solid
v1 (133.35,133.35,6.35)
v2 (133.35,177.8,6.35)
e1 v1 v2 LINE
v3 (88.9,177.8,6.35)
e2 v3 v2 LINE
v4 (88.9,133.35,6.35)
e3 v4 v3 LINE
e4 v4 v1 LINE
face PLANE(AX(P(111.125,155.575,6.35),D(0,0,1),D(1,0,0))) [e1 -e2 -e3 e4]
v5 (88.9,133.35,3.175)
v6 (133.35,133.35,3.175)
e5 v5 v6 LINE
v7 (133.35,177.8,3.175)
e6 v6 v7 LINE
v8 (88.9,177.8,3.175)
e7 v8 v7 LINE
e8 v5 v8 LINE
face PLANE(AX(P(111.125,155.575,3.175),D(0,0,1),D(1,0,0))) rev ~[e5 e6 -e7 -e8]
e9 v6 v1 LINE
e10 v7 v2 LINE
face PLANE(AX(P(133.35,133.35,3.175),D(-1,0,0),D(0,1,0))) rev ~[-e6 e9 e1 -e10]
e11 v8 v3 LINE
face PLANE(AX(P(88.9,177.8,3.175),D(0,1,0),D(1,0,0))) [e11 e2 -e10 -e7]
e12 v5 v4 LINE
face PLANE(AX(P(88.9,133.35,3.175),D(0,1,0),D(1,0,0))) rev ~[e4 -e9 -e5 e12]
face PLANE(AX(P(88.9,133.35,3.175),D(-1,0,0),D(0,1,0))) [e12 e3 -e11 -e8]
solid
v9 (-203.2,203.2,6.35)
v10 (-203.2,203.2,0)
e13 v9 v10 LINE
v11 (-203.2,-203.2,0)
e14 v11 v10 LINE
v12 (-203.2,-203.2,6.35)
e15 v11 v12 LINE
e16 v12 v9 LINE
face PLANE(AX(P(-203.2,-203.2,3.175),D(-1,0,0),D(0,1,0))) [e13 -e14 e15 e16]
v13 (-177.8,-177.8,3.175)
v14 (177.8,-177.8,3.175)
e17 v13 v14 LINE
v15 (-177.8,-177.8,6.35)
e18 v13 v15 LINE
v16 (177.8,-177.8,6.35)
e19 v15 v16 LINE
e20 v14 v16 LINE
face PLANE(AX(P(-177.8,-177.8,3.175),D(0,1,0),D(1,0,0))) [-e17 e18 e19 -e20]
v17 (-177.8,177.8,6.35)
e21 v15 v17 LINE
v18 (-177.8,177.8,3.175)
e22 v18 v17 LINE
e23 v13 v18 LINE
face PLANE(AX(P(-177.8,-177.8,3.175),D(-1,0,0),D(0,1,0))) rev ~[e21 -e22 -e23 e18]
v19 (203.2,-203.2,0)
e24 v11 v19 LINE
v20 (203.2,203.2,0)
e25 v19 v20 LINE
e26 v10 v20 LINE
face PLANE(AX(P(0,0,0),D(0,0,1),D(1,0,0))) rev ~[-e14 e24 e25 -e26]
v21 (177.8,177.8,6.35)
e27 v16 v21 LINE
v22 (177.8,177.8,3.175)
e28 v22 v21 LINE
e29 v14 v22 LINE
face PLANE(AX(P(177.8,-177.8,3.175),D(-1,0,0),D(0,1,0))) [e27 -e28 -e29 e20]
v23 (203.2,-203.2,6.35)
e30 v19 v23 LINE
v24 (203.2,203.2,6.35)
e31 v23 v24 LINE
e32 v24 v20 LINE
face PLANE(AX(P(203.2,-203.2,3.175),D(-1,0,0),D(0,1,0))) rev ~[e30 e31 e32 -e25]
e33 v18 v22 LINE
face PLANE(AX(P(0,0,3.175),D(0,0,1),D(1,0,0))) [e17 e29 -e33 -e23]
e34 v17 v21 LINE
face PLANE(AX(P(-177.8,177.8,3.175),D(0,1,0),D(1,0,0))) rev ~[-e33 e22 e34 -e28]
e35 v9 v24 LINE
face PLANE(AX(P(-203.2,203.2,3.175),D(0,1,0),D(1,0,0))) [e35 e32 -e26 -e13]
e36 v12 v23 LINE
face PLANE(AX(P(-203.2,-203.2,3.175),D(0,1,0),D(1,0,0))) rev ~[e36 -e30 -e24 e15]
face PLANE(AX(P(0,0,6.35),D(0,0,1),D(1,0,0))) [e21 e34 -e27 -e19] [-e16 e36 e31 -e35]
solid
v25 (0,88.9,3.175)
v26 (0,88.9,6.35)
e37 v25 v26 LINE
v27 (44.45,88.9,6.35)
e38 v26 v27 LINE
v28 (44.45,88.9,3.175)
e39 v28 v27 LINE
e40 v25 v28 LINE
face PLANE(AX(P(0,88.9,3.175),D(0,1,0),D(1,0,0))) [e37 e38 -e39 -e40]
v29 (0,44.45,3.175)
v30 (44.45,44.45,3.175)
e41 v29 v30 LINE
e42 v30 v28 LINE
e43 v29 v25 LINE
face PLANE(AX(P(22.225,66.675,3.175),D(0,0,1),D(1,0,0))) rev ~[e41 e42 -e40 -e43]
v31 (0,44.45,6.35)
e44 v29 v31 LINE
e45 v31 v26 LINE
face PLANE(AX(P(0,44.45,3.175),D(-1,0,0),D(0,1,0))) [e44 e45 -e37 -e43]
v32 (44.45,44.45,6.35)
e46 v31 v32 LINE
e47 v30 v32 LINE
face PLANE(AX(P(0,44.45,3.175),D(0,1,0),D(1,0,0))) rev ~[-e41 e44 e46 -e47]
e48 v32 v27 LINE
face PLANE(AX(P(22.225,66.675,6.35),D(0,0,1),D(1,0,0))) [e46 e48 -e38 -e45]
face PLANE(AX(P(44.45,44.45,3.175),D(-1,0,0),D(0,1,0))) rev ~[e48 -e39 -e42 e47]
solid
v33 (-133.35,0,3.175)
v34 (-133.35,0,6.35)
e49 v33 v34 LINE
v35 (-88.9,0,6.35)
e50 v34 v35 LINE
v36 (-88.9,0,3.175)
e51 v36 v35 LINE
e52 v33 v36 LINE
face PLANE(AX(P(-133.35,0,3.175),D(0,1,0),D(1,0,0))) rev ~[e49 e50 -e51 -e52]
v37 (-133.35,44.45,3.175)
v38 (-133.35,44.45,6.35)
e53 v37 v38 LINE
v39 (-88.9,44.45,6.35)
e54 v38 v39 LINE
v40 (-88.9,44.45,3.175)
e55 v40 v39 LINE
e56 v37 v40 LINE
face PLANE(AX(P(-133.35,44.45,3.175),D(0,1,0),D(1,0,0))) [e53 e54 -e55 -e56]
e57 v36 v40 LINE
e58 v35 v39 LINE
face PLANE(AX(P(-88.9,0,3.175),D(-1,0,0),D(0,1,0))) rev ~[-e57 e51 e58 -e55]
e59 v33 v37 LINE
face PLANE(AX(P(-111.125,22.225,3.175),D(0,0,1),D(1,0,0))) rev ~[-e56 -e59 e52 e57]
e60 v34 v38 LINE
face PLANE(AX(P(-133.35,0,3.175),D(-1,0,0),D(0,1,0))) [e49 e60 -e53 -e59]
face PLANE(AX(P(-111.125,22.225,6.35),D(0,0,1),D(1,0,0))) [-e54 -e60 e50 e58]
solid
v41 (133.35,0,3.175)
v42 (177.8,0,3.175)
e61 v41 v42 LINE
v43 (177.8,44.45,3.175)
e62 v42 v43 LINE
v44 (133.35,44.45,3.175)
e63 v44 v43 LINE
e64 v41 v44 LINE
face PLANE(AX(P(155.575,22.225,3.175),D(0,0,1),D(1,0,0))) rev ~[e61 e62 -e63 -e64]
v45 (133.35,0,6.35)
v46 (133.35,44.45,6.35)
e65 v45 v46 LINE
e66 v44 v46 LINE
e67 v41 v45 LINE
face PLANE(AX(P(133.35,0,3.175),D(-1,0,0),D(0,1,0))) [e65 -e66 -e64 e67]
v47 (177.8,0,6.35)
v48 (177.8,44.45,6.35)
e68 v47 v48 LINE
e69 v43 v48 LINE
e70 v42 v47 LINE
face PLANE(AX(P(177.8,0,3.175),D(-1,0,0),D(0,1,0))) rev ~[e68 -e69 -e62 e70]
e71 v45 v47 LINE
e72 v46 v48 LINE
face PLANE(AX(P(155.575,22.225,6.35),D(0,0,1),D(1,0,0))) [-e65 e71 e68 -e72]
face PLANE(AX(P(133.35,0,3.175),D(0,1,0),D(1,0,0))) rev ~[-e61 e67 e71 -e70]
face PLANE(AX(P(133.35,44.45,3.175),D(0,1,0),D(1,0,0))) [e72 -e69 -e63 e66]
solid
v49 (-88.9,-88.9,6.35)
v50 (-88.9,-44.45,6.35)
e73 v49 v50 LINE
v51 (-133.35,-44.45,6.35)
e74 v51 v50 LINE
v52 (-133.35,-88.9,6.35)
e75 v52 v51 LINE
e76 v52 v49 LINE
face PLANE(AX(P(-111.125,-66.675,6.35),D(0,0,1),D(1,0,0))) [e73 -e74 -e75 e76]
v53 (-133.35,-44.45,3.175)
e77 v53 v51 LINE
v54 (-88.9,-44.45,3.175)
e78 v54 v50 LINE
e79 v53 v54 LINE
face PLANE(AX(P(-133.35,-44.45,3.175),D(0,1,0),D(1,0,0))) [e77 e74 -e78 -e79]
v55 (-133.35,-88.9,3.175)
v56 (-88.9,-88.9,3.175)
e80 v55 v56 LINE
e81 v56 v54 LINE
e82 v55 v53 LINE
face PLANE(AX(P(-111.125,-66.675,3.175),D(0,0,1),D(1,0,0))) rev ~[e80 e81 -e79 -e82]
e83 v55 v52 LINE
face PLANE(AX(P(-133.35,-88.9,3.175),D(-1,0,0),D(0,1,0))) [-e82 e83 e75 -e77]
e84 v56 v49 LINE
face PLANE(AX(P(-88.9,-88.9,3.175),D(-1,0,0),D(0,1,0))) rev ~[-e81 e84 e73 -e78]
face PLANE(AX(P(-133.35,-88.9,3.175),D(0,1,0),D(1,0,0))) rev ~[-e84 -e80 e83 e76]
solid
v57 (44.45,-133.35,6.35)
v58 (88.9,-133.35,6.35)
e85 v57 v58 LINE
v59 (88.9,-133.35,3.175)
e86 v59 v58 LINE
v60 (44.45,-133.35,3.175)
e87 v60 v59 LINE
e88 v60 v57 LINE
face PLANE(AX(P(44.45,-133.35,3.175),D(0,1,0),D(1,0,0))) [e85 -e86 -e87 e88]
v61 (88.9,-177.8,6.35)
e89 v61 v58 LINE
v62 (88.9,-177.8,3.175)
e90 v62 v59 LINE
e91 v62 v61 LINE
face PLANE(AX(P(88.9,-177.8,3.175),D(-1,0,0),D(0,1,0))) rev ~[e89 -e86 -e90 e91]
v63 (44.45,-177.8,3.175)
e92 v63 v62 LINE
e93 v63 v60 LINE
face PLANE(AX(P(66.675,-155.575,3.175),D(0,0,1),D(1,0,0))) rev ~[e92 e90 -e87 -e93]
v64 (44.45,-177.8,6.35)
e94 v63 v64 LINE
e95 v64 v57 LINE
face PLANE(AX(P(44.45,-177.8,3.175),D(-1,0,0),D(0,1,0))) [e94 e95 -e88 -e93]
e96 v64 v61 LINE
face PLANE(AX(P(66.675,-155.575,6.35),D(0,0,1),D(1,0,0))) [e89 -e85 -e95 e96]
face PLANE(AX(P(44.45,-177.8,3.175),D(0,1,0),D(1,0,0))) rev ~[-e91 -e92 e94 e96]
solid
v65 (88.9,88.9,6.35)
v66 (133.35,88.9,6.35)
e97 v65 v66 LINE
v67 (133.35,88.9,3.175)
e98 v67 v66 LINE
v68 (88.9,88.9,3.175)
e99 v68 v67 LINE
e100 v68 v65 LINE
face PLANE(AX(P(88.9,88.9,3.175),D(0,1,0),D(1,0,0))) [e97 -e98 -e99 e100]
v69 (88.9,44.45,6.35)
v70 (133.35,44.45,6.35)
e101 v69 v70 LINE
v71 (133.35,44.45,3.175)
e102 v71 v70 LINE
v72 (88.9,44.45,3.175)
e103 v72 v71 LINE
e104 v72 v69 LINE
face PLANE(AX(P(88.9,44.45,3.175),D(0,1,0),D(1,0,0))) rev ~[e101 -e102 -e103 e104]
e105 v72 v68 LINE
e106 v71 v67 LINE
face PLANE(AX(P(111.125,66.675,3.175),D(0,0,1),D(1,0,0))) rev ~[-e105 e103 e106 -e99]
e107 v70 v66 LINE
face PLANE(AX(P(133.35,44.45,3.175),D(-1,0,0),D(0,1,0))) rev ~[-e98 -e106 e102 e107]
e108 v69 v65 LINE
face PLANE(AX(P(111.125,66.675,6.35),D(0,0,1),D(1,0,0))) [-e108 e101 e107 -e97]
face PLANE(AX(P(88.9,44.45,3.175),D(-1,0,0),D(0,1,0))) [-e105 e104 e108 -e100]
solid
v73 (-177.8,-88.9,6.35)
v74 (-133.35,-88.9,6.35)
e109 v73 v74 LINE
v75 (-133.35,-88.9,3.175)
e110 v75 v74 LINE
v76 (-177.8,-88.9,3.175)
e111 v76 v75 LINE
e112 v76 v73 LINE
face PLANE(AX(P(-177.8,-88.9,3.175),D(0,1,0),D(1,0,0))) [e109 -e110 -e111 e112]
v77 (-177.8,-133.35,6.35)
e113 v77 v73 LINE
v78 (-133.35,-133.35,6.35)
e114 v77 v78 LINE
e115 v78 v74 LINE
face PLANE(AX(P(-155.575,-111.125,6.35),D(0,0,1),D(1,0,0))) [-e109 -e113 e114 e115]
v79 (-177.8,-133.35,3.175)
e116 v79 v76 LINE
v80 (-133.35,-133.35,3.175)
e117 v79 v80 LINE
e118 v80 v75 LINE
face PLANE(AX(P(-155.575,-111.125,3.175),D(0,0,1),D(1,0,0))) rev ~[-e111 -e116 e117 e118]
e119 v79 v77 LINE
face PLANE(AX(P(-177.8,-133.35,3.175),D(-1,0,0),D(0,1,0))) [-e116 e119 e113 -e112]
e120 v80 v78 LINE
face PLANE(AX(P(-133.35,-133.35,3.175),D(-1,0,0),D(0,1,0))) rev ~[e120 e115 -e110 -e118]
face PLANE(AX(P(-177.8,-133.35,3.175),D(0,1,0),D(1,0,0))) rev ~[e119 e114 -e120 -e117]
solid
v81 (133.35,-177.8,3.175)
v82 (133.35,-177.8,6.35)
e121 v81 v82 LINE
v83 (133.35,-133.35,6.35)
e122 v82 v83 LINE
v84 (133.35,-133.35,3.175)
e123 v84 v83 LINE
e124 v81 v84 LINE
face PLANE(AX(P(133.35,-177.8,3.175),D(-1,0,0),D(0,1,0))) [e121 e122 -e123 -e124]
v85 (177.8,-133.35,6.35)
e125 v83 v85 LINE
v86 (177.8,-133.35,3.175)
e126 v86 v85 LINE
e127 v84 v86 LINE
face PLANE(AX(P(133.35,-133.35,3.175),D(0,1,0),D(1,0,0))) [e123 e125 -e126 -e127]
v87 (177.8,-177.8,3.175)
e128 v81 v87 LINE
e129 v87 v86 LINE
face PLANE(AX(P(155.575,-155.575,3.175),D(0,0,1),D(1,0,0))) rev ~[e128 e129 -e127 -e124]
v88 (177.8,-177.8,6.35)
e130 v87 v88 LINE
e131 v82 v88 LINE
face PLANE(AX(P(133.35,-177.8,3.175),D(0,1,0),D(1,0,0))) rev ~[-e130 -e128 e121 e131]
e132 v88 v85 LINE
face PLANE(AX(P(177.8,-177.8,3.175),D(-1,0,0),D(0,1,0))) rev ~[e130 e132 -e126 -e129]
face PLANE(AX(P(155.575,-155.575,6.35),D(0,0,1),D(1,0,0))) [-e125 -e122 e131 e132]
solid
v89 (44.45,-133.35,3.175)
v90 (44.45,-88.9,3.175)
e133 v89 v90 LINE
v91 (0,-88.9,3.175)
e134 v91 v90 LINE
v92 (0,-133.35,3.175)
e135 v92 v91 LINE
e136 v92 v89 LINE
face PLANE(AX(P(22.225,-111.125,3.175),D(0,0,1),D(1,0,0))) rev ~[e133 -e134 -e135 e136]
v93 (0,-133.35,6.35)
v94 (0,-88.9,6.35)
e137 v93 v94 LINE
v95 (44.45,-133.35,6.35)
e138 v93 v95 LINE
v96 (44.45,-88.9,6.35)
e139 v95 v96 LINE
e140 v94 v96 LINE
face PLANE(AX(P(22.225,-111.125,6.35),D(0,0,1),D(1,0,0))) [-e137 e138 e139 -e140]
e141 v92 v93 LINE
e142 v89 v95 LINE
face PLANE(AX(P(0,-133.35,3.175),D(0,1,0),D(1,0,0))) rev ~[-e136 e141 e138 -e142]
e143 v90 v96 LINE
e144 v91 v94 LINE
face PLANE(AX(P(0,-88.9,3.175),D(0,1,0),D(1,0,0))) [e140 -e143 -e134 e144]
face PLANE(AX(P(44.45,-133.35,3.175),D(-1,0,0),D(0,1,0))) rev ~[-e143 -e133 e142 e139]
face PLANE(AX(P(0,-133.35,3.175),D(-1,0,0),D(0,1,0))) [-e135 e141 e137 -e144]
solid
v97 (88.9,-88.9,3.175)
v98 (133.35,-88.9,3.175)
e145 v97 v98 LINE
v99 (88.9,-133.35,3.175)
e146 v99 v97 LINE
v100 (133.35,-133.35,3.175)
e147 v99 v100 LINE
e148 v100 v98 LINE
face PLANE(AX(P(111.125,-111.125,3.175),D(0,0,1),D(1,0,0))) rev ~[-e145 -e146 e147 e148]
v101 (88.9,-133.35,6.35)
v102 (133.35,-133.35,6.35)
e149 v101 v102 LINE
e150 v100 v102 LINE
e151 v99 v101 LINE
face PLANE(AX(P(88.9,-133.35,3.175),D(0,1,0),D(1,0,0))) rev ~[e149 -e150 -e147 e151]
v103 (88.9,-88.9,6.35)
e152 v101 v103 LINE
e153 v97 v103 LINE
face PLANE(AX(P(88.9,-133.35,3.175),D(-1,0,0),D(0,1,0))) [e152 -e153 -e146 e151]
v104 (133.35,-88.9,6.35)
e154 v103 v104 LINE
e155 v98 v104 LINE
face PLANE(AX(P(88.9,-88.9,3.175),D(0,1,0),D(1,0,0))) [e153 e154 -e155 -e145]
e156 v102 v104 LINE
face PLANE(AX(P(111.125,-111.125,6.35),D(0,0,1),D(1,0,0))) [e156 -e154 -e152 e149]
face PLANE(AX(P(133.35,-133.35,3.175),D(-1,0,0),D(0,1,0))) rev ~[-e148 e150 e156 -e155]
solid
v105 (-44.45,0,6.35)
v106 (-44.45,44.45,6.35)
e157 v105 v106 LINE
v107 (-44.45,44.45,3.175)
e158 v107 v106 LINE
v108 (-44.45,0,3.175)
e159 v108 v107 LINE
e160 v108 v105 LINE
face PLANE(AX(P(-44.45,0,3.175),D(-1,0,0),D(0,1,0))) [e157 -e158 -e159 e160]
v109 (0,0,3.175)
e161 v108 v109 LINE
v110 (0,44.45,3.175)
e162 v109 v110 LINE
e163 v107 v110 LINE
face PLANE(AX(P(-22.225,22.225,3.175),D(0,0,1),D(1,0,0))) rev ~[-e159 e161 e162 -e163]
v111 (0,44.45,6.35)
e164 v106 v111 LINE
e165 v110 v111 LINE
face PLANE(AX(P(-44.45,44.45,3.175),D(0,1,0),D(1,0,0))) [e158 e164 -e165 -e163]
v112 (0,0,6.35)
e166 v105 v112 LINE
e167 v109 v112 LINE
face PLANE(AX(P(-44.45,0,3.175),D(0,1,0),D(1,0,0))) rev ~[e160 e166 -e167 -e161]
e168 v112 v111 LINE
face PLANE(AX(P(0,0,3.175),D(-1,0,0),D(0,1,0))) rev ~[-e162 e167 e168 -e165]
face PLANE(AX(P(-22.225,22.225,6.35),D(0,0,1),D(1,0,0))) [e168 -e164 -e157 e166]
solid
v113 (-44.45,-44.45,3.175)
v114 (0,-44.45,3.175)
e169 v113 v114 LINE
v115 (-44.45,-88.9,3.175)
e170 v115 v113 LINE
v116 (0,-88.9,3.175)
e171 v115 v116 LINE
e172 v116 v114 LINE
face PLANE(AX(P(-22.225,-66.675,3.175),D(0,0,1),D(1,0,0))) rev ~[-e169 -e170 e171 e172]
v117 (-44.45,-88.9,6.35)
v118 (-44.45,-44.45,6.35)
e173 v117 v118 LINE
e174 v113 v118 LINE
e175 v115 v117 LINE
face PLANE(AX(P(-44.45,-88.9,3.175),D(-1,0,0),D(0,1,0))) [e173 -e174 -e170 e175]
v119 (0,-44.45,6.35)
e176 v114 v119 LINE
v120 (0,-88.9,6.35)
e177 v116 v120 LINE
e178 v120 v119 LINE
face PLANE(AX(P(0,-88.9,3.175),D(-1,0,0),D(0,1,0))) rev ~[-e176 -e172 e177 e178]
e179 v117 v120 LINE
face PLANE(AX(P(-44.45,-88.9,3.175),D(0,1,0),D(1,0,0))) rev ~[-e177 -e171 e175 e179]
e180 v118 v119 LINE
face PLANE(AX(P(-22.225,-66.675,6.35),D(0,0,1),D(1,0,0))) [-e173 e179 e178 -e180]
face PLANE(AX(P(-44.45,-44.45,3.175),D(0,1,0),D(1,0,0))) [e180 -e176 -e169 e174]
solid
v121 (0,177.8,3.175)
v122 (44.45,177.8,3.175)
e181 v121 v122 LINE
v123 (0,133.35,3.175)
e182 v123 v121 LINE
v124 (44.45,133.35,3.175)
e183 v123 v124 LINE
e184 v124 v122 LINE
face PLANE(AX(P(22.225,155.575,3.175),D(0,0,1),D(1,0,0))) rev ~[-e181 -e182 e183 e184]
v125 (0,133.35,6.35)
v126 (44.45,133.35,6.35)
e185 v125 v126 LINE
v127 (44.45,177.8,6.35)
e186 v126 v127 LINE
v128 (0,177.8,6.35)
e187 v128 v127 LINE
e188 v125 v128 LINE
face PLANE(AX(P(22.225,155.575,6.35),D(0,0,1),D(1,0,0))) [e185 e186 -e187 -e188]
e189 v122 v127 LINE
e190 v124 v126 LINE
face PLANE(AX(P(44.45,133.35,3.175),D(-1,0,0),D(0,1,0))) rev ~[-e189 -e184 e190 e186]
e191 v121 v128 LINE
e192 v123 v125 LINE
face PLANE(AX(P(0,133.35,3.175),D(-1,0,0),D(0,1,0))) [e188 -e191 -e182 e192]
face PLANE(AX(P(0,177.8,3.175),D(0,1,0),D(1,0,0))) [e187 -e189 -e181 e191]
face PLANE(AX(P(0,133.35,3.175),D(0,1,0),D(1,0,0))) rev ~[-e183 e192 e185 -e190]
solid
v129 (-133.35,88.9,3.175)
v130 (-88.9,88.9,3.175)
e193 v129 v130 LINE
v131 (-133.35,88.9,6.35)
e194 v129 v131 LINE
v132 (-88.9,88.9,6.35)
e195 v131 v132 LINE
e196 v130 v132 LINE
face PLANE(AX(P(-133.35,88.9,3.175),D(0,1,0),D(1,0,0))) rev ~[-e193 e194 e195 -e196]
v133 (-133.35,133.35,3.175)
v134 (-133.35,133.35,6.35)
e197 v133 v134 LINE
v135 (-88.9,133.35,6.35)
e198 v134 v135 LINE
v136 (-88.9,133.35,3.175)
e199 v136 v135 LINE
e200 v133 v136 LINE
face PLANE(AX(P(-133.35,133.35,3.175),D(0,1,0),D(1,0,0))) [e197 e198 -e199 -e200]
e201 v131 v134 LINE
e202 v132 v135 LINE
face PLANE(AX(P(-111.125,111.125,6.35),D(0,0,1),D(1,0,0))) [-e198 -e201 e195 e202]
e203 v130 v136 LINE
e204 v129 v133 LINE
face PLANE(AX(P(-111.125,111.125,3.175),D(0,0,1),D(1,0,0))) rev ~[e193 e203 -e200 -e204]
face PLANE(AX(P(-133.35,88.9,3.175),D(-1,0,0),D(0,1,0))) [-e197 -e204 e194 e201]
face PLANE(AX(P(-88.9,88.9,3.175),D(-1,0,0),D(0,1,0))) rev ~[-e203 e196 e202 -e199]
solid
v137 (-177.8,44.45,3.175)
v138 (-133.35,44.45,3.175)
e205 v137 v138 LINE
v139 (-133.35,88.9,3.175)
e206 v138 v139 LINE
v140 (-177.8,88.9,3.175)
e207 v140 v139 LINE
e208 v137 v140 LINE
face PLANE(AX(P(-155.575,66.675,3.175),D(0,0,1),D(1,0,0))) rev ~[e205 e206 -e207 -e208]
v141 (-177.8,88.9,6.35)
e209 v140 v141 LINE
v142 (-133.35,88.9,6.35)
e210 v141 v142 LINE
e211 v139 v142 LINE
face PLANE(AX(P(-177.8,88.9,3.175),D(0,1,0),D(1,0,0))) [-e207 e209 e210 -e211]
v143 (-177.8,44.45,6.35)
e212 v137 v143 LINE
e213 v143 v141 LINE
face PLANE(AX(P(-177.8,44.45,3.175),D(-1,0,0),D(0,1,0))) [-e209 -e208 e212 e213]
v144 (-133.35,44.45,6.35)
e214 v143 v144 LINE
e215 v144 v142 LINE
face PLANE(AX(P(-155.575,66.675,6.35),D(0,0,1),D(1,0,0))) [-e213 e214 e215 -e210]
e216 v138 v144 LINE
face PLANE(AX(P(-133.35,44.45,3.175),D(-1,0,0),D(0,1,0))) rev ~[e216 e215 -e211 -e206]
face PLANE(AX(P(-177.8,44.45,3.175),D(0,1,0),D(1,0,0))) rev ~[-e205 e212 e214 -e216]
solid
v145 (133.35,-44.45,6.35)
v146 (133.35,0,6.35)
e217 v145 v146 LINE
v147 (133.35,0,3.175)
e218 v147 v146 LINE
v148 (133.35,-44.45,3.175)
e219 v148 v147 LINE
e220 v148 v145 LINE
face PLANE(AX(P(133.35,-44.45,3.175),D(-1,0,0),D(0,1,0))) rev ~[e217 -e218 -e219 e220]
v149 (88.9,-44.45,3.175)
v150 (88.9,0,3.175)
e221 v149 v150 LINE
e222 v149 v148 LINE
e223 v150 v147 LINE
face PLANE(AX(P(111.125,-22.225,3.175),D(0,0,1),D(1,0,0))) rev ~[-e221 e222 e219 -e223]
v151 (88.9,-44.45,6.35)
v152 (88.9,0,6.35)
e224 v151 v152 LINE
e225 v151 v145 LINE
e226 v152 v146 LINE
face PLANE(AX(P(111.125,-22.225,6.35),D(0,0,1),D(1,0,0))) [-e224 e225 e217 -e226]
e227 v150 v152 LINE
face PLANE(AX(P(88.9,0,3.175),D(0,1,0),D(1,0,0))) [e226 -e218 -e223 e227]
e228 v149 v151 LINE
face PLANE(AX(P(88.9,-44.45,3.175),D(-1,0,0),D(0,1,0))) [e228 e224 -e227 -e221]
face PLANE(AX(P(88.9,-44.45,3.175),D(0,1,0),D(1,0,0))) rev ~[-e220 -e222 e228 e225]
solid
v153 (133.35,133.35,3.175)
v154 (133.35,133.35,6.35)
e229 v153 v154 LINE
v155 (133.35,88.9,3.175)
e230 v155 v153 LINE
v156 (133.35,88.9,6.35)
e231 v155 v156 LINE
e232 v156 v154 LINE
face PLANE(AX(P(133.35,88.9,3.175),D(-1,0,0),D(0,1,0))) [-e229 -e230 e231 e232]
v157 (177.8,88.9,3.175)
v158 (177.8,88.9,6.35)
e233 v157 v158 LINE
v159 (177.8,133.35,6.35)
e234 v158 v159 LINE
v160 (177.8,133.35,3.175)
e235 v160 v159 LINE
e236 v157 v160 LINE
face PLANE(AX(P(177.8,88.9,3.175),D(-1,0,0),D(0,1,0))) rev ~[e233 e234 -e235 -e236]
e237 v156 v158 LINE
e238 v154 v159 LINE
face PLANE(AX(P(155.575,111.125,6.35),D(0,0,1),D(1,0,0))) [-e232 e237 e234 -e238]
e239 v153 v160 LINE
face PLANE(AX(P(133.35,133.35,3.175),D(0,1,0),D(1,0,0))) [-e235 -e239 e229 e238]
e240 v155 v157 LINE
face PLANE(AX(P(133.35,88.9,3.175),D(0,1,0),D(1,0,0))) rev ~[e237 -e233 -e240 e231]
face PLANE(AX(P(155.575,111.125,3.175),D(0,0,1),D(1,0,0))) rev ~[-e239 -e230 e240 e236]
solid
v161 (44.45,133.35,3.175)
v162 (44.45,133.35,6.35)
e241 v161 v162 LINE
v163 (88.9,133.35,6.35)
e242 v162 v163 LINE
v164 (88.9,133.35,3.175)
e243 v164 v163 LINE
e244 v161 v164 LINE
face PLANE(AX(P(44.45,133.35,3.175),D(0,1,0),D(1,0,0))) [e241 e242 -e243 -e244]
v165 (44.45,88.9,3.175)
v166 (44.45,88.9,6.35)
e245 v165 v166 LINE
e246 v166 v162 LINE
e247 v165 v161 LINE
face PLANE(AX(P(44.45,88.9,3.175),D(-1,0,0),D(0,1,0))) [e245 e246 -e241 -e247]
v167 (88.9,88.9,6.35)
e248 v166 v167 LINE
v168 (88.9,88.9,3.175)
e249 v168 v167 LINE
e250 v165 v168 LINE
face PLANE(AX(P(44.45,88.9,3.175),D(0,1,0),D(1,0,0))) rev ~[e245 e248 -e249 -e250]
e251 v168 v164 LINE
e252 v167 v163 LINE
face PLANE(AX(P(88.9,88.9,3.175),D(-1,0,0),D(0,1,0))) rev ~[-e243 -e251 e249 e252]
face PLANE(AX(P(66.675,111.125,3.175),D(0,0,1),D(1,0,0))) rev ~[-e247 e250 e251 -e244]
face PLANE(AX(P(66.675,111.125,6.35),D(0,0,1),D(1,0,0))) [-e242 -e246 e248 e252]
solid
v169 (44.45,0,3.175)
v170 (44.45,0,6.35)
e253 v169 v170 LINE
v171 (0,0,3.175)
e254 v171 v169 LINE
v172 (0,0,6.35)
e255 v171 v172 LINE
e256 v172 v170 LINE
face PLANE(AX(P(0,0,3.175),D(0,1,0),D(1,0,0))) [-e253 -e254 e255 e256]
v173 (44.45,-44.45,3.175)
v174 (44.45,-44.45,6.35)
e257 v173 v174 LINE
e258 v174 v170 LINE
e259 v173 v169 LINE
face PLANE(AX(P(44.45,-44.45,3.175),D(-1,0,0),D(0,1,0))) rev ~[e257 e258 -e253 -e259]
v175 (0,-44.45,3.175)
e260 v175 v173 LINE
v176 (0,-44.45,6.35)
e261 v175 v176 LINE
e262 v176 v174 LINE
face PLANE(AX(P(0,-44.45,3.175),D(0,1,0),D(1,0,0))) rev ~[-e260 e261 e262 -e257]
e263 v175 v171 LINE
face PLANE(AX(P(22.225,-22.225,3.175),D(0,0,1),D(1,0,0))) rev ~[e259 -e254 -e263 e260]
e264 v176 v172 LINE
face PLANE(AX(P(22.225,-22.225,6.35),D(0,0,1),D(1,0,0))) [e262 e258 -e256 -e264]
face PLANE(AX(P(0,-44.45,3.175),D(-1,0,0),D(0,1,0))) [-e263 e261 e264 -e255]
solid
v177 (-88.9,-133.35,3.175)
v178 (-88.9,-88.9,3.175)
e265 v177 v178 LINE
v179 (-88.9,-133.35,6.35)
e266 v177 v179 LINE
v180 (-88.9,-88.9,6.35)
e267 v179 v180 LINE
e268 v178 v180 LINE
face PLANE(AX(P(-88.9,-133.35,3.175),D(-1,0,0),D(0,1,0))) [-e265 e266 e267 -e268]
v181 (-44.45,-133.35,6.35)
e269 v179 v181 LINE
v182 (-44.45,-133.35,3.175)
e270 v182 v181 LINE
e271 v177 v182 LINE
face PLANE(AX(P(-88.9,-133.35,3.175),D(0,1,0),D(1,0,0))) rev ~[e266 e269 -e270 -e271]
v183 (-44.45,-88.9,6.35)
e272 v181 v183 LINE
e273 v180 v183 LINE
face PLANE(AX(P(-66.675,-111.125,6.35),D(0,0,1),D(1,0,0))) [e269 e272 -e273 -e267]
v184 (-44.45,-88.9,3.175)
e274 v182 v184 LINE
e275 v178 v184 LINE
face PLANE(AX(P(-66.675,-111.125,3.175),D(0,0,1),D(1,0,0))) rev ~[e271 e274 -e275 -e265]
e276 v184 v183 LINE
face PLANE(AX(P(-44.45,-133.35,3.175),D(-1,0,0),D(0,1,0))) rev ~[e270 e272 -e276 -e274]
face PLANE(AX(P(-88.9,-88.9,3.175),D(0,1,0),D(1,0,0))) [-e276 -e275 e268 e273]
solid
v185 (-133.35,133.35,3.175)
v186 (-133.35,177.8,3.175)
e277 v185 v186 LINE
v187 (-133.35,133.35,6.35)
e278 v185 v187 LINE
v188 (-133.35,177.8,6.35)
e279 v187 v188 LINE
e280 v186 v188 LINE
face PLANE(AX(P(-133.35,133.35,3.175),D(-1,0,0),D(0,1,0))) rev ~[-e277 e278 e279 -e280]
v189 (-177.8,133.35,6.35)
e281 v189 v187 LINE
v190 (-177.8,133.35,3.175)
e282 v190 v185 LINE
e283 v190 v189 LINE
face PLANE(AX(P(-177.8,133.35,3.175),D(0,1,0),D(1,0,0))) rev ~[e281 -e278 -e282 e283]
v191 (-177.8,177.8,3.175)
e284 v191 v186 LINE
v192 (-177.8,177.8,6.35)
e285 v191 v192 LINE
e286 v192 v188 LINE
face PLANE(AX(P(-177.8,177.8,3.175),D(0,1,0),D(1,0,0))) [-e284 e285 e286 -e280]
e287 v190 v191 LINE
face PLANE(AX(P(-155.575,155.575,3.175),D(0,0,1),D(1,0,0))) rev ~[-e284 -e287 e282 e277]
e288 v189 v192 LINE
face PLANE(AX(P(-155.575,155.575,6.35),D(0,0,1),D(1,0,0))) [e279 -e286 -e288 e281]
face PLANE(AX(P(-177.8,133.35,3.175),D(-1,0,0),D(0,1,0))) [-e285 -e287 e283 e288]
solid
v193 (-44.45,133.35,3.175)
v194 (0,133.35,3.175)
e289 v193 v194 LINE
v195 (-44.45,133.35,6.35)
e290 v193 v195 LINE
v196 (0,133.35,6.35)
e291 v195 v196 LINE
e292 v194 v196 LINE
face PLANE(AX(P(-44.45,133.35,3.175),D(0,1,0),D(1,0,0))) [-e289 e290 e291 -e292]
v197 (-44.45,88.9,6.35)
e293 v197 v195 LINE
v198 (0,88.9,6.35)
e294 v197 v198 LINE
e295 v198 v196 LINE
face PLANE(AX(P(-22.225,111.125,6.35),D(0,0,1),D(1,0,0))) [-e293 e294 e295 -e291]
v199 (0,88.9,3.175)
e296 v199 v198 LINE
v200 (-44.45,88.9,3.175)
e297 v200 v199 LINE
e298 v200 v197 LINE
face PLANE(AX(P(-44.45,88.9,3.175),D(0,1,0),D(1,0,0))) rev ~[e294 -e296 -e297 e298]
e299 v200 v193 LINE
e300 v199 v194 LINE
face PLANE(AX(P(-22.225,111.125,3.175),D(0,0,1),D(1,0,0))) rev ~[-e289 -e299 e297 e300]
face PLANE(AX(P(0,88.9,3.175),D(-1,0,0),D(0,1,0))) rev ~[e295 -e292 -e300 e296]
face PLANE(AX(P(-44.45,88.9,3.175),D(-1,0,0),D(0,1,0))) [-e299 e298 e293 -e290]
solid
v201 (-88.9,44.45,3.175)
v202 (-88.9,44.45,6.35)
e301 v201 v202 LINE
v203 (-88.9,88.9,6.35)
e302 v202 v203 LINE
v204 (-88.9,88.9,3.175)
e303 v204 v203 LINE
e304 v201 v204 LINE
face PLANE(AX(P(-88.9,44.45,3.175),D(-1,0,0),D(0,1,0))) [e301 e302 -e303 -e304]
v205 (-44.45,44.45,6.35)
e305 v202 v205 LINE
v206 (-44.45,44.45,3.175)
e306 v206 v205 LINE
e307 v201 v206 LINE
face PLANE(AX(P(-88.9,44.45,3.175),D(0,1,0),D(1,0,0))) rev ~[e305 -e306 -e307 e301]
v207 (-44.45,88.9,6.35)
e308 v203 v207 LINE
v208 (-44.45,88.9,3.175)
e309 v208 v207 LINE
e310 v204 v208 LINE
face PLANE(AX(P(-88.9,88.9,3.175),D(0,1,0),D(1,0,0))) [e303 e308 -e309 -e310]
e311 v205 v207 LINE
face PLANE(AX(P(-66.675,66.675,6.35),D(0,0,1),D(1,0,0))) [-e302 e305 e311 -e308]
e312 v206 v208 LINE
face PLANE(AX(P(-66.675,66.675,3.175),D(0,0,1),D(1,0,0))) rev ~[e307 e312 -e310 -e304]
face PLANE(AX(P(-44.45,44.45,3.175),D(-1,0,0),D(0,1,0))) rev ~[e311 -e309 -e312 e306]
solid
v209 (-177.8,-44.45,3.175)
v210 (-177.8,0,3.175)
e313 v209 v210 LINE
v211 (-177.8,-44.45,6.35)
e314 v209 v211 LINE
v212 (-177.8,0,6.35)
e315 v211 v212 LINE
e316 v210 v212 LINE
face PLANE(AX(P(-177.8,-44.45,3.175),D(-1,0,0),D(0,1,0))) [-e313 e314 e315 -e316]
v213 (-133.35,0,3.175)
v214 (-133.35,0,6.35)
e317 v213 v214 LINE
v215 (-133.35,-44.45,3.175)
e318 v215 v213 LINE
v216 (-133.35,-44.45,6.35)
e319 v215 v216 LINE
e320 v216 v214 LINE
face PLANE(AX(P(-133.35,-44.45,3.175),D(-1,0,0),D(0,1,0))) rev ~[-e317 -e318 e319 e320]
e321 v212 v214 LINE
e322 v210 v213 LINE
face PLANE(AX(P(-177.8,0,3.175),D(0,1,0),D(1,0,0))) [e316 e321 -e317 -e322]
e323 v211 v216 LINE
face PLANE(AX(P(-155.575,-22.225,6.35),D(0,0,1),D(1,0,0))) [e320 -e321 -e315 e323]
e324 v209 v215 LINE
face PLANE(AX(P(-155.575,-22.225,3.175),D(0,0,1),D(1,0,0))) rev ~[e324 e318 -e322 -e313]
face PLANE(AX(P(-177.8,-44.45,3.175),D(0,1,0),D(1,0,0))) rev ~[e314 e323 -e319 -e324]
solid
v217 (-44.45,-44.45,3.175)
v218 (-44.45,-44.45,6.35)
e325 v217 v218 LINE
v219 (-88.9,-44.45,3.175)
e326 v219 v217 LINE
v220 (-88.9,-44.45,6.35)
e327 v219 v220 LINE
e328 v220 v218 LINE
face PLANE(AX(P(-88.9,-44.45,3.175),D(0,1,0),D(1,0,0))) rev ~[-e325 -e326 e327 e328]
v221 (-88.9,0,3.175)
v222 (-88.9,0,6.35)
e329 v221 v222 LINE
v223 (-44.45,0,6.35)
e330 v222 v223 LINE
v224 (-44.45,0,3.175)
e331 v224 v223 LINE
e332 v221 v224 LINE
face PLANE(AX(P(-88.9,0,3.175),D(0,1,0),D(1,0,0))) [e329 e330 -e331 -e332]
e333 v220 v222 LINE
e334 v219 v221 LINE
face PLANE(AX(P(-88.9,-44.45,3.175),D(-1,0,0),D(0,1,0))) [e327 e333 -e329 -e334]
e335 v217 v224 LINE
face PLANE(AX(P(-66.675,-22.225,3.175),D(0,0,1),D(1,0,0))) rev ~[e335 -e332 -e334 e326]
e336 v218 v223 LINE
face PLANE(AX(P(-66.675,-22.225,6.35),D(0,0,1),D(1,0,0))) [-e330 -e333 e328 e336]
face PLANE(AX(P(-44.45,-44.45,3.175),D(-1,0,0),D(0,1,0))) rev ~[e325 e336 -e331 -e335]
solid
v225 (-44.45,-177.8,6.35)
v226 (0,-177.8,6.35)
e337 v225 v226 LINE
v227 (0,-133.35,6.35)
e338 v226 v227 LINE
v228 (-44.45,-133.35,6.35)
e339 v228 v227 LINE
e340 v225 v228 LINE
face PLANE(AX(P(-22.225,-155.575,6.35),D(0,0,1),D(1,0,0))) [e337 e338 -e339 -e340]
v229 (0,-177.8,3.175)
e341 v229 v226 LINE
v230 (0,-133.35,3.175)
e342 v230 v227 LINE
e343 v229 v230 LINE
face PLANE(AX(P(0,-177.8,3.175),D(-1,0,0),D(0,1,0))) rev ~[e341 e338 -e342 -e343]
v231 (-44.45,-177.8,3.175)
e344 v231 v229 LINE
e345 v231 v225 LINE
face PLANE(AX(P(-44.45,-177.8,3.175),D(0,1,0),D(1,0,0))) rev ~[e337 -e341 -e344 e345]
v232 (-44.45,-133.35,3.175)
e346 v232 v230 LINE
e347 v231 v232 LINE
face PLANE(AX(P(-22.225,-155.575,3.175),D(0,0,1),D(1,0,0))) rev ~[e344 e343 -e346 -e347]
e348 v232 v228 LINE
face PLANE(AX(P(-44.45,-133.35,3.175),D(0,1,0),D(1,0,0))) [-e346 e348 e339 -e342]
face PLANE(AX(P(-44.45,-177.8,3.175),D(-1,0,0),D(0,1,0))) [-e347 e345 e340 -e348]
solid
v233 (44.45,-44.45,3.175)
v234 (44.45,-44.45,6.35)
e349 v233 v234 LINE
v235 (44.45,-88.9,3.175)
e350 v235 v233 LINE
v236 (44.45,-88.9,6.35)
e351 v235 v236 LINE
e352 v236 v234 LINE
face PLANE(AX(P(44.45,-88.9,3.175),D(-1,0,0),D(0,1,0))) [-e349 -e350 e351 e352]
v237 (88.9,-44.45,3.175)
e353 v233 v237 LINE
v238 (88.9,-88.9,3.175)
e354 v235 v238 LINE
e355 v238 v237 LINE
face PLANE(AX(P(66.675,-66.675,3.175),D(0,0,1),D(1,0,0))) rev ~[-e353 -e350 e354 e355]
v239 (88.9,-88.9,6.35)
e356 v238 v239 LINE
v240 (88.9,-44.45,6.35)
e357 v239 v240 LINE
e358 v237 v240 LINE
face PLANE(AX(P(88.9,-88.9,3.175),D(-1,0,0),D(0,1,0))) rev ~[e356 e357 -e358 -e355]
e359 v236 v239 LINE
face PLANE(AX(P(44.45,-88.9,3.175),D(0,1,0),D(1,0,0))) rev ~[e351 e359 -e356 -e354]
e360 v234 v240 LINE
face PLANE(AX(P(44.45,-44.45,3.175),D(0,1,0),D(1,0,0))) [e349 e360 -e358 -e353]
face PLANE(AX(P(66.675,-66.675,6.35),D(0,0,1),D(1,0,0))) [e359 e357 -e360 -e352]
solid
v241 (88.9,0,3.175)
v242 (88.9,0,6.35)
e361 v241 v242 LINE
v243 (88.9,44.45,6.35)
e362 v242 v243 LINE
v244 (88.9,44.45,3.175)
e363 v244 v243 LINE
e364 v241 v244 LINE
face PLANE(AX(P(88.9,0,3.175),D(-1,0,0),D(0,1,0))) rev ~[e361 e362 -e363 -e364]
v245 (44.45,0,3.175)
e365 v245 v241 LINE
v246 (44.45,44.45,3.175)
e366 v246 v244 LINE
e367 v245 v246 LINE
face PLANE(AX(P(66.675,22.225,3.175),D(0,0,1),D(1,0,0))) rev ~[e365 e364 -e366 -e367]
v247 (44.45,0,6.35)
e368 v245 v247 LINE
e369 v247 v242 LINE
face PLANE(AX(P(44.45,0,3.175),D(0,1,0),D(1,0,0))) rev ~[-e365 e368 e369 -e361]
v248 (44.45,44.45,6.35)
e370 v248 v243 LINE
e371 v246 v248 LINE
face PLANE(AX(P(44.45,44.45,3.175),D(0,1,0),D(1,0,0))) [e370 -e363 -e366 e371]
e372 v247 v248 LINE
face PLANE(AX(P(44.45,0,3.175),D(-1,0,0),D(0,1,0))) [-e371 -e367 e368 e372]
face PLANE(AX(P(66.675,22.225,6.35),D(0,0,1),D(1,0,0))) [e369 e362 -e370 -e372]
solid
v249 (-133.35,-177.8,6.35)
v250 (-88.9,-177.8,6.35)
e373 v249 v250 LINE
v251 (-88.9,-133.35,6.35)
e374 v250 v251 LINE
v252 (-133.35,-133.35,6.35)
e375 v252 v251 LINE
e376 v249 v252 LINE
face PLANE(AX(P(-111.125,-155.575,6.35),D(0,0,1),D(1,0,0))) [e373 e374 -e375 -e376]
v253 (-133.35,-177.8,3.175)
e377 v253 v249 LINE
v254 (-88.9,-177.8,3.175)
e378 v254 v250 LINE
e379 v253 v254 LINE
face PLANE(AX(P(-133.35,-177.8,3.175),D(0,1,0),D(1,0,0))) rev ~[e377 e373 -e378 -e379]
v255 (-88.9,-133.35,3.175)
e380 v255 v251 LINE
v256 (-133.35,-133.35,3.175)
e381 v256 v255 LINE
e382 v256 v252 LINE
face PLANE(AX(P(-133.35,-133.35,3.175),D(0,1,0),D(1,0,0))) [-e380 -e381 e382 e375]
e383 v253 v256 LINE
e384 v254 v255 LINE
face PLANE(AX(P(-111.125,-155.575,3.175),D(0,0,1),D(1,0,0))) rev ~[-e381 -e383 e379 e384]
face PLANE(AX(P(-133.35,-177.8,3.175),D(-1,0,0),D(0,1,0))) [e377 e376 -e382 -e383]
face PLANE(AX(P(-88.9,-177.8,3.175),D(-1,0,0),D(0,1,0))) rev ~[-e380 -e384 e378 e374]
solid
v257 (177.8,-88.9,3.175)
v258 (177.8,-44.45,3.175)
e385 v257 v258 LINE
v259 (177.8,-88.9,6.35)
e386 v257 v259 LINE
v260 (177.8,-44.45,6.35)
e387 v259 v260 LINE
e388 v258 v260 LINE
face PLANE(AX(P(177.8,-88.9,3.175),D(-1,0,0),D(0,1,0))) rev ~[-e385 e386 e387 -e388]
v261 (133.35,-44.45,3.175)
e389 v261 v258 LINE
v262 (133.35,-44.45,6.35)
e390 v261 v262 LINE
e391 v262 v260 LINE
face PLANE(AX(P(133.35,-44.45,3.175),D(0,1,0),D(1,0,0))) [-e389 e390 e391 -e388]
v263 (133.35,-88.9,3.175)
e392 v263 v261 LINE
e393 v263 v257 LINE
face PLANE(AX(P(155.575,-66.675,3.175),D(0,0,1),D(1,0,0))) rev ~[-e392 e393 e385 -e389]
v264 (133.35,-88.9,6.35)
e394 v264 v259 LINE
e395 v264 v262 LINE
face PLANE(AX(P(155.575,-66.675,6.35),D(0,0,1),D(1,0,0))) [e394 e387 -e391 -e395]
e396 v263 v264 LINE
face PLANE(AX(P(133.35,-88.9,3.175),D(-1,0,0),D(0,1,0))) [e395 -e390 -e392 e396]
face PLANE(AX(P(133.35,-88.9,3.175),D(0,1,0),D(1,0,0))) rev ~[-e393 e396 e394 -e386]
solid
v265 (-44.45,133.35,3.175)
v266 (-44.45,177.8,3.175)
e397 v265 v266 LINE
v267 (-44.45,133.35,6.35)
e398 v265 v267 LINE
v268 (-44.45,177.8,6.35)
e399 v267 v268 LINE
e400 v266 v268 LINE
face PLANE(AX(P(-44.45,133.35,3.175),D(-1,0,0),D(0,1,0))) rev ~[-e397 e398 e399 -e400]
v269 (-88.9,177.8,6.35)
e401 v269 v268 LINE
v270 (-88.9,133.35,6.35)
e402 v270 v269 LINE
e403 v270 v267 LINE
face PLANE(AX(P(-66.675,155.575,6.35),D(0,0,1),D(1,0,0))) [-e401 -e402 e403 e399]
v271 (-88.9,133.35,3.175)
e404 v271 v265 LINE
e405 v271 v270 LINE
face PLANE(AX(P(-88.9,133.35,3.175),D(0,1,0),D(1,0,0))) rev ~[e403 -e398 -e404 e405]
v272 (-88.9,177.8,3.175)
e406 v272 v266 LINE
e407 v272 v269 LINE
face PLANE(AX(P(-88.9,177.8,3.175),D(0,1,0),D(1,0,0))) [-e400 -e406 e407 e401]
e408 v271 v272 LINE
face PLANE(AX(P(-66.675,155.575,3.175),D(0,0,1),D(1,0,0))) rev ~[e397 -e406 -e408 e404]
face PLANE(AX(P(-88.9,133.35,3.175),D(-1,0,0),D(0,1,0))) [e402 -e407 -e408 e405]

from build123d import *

# Parameters (mm, degrees)
F0_W     = 406.4
F0_H     = 406.4
F1_DEPTH = 3.175
F2_W     = 406.4
F2_H     = 406.4
F2_W_2   = 355.6
F2_H_2   = 355.6
F3_DEPTH = 3.175
F4_W     = 44.45
F4_H     = 44.45
F5_DEPTH = 3.175


with BuildPart() as f1:
    # F0 (on Top) → F1 (new body)
    with BuildSketch(Plane.XY):
        Rectangle(F0_W, F0_H)
    extrude(amount=F1_DEPTH)

    # F2 (on face) → F3 (join)
    with BuildSketch(Plane.XY.offset(3.175)):
        Rectangle(F2_W, F2_H)
        Rectangle(F2_W_2, F2_H_2, mode=Mode.SUBTRACT)
    extrude(amount=F3_DEPTH)


with BuildPart() as f5:
    # F4 (on face) → F5 (new body)
    with BuildSketch(Plane.XY.offset(3.175)):
        with Locations((-155.575, 155.575)):
            Rectangle(F4_W, F4_H)
        with Locations((-66.675, 155.575)):
            Rectangle(F4_W, F4_H)
        with Locations((22.225, 155.575)):
            Rectangle(F4_W, F4_H)
        with Locations((111.125, 155.575)):
            Rectangle(F4_W, F4_H)
        with Locations((-111.125, 111.125)):
            Rectangle(F4_W, F4_H)
        with Locations((-22.225, 111.125)):
            Rectangle(F4_W, F4_H)
        with Locations((66.675, 111.125)):
            Rectangle(F4_W, F4_H)
        with Locations((155.575, 111.125)):
            Rectangle(F4_W, F4_H)
        with Locations((111.125, 66.675)):
            Rectangle(F4_W, F4_H)
        with Locations((22.225, 66.675)):
            Rectangle(F4_W, F4_H)
        with Locations((-66.675, 66.675)):
            Rectangle(F4_W, F4_H)
        with Locations((-155.575, 66.675)):
            Rectangle(F4_W, F4_H)
        with Locations((-111.125, 22.225)):
            Rectangle(F4_W, F4_H)
        with Locations((-22.225, 22.225)):
            Rectangle(F4_W, F4_H)
        with Locations((66.675, 22.225)):
            Rectangle(F4_W, F4_H)
        with Locations((155.575, 22.225)):
            Rectangle(F4_W, F4_H)
        with Locations((111.125, -22.225)):
            Rectangle(F4_W, F4_H)
        with Locations((22.225, -22.225)):
            Rectangle(F4_W, F4_H)
        with Locations((-66.675, -22.225)):
            Rectangle(F4_W, F4_H)
        with Locations((-155.575, -22.225)):
            Rectangle(F4_W, F4_H)
        with Locations((-111.125, -66.675)):
            Rectangle(F4_W, F4_H)
        with Locations((-22.225, -66.675)):
            Rectangle(F4_W, F4_H)
        with Locations((66.675, -66.675)):
            Rectangle(F4_W, F4_H)
        with Locations((155.575, -66.675)):
            Rectangle(F4_W, F4_H)
        with Locations((111.125, -111.125)):
            Rectangle(F4_W, F4_H)
        with Locations((22.225, -111.125)):
            Rectangle(F4_W, F4_H)
        with Locations((-66.675, -111.125)):
            Rectangle(F4_W, F4_H)
        with Locations((-155.575, -111.125)):
            Rectangle(F4_W, F4_H)
        with Locations((-111.125, -155.575)):
            Rectangle(F4_W, F4_H)
        with Locations((-22.225, -155.575)):
            Rectangle(F4_W, F4_H)
        with Locations((66.675, -155.575)):
            Rectangle(F4_W, F4_H)
        with Locations((155.575, -155.575)):
            Rectangle(F4_W, F4_H)
    extrude(amount=F5_DEPTH)


solid = Compound([f1.part, f5.part])
